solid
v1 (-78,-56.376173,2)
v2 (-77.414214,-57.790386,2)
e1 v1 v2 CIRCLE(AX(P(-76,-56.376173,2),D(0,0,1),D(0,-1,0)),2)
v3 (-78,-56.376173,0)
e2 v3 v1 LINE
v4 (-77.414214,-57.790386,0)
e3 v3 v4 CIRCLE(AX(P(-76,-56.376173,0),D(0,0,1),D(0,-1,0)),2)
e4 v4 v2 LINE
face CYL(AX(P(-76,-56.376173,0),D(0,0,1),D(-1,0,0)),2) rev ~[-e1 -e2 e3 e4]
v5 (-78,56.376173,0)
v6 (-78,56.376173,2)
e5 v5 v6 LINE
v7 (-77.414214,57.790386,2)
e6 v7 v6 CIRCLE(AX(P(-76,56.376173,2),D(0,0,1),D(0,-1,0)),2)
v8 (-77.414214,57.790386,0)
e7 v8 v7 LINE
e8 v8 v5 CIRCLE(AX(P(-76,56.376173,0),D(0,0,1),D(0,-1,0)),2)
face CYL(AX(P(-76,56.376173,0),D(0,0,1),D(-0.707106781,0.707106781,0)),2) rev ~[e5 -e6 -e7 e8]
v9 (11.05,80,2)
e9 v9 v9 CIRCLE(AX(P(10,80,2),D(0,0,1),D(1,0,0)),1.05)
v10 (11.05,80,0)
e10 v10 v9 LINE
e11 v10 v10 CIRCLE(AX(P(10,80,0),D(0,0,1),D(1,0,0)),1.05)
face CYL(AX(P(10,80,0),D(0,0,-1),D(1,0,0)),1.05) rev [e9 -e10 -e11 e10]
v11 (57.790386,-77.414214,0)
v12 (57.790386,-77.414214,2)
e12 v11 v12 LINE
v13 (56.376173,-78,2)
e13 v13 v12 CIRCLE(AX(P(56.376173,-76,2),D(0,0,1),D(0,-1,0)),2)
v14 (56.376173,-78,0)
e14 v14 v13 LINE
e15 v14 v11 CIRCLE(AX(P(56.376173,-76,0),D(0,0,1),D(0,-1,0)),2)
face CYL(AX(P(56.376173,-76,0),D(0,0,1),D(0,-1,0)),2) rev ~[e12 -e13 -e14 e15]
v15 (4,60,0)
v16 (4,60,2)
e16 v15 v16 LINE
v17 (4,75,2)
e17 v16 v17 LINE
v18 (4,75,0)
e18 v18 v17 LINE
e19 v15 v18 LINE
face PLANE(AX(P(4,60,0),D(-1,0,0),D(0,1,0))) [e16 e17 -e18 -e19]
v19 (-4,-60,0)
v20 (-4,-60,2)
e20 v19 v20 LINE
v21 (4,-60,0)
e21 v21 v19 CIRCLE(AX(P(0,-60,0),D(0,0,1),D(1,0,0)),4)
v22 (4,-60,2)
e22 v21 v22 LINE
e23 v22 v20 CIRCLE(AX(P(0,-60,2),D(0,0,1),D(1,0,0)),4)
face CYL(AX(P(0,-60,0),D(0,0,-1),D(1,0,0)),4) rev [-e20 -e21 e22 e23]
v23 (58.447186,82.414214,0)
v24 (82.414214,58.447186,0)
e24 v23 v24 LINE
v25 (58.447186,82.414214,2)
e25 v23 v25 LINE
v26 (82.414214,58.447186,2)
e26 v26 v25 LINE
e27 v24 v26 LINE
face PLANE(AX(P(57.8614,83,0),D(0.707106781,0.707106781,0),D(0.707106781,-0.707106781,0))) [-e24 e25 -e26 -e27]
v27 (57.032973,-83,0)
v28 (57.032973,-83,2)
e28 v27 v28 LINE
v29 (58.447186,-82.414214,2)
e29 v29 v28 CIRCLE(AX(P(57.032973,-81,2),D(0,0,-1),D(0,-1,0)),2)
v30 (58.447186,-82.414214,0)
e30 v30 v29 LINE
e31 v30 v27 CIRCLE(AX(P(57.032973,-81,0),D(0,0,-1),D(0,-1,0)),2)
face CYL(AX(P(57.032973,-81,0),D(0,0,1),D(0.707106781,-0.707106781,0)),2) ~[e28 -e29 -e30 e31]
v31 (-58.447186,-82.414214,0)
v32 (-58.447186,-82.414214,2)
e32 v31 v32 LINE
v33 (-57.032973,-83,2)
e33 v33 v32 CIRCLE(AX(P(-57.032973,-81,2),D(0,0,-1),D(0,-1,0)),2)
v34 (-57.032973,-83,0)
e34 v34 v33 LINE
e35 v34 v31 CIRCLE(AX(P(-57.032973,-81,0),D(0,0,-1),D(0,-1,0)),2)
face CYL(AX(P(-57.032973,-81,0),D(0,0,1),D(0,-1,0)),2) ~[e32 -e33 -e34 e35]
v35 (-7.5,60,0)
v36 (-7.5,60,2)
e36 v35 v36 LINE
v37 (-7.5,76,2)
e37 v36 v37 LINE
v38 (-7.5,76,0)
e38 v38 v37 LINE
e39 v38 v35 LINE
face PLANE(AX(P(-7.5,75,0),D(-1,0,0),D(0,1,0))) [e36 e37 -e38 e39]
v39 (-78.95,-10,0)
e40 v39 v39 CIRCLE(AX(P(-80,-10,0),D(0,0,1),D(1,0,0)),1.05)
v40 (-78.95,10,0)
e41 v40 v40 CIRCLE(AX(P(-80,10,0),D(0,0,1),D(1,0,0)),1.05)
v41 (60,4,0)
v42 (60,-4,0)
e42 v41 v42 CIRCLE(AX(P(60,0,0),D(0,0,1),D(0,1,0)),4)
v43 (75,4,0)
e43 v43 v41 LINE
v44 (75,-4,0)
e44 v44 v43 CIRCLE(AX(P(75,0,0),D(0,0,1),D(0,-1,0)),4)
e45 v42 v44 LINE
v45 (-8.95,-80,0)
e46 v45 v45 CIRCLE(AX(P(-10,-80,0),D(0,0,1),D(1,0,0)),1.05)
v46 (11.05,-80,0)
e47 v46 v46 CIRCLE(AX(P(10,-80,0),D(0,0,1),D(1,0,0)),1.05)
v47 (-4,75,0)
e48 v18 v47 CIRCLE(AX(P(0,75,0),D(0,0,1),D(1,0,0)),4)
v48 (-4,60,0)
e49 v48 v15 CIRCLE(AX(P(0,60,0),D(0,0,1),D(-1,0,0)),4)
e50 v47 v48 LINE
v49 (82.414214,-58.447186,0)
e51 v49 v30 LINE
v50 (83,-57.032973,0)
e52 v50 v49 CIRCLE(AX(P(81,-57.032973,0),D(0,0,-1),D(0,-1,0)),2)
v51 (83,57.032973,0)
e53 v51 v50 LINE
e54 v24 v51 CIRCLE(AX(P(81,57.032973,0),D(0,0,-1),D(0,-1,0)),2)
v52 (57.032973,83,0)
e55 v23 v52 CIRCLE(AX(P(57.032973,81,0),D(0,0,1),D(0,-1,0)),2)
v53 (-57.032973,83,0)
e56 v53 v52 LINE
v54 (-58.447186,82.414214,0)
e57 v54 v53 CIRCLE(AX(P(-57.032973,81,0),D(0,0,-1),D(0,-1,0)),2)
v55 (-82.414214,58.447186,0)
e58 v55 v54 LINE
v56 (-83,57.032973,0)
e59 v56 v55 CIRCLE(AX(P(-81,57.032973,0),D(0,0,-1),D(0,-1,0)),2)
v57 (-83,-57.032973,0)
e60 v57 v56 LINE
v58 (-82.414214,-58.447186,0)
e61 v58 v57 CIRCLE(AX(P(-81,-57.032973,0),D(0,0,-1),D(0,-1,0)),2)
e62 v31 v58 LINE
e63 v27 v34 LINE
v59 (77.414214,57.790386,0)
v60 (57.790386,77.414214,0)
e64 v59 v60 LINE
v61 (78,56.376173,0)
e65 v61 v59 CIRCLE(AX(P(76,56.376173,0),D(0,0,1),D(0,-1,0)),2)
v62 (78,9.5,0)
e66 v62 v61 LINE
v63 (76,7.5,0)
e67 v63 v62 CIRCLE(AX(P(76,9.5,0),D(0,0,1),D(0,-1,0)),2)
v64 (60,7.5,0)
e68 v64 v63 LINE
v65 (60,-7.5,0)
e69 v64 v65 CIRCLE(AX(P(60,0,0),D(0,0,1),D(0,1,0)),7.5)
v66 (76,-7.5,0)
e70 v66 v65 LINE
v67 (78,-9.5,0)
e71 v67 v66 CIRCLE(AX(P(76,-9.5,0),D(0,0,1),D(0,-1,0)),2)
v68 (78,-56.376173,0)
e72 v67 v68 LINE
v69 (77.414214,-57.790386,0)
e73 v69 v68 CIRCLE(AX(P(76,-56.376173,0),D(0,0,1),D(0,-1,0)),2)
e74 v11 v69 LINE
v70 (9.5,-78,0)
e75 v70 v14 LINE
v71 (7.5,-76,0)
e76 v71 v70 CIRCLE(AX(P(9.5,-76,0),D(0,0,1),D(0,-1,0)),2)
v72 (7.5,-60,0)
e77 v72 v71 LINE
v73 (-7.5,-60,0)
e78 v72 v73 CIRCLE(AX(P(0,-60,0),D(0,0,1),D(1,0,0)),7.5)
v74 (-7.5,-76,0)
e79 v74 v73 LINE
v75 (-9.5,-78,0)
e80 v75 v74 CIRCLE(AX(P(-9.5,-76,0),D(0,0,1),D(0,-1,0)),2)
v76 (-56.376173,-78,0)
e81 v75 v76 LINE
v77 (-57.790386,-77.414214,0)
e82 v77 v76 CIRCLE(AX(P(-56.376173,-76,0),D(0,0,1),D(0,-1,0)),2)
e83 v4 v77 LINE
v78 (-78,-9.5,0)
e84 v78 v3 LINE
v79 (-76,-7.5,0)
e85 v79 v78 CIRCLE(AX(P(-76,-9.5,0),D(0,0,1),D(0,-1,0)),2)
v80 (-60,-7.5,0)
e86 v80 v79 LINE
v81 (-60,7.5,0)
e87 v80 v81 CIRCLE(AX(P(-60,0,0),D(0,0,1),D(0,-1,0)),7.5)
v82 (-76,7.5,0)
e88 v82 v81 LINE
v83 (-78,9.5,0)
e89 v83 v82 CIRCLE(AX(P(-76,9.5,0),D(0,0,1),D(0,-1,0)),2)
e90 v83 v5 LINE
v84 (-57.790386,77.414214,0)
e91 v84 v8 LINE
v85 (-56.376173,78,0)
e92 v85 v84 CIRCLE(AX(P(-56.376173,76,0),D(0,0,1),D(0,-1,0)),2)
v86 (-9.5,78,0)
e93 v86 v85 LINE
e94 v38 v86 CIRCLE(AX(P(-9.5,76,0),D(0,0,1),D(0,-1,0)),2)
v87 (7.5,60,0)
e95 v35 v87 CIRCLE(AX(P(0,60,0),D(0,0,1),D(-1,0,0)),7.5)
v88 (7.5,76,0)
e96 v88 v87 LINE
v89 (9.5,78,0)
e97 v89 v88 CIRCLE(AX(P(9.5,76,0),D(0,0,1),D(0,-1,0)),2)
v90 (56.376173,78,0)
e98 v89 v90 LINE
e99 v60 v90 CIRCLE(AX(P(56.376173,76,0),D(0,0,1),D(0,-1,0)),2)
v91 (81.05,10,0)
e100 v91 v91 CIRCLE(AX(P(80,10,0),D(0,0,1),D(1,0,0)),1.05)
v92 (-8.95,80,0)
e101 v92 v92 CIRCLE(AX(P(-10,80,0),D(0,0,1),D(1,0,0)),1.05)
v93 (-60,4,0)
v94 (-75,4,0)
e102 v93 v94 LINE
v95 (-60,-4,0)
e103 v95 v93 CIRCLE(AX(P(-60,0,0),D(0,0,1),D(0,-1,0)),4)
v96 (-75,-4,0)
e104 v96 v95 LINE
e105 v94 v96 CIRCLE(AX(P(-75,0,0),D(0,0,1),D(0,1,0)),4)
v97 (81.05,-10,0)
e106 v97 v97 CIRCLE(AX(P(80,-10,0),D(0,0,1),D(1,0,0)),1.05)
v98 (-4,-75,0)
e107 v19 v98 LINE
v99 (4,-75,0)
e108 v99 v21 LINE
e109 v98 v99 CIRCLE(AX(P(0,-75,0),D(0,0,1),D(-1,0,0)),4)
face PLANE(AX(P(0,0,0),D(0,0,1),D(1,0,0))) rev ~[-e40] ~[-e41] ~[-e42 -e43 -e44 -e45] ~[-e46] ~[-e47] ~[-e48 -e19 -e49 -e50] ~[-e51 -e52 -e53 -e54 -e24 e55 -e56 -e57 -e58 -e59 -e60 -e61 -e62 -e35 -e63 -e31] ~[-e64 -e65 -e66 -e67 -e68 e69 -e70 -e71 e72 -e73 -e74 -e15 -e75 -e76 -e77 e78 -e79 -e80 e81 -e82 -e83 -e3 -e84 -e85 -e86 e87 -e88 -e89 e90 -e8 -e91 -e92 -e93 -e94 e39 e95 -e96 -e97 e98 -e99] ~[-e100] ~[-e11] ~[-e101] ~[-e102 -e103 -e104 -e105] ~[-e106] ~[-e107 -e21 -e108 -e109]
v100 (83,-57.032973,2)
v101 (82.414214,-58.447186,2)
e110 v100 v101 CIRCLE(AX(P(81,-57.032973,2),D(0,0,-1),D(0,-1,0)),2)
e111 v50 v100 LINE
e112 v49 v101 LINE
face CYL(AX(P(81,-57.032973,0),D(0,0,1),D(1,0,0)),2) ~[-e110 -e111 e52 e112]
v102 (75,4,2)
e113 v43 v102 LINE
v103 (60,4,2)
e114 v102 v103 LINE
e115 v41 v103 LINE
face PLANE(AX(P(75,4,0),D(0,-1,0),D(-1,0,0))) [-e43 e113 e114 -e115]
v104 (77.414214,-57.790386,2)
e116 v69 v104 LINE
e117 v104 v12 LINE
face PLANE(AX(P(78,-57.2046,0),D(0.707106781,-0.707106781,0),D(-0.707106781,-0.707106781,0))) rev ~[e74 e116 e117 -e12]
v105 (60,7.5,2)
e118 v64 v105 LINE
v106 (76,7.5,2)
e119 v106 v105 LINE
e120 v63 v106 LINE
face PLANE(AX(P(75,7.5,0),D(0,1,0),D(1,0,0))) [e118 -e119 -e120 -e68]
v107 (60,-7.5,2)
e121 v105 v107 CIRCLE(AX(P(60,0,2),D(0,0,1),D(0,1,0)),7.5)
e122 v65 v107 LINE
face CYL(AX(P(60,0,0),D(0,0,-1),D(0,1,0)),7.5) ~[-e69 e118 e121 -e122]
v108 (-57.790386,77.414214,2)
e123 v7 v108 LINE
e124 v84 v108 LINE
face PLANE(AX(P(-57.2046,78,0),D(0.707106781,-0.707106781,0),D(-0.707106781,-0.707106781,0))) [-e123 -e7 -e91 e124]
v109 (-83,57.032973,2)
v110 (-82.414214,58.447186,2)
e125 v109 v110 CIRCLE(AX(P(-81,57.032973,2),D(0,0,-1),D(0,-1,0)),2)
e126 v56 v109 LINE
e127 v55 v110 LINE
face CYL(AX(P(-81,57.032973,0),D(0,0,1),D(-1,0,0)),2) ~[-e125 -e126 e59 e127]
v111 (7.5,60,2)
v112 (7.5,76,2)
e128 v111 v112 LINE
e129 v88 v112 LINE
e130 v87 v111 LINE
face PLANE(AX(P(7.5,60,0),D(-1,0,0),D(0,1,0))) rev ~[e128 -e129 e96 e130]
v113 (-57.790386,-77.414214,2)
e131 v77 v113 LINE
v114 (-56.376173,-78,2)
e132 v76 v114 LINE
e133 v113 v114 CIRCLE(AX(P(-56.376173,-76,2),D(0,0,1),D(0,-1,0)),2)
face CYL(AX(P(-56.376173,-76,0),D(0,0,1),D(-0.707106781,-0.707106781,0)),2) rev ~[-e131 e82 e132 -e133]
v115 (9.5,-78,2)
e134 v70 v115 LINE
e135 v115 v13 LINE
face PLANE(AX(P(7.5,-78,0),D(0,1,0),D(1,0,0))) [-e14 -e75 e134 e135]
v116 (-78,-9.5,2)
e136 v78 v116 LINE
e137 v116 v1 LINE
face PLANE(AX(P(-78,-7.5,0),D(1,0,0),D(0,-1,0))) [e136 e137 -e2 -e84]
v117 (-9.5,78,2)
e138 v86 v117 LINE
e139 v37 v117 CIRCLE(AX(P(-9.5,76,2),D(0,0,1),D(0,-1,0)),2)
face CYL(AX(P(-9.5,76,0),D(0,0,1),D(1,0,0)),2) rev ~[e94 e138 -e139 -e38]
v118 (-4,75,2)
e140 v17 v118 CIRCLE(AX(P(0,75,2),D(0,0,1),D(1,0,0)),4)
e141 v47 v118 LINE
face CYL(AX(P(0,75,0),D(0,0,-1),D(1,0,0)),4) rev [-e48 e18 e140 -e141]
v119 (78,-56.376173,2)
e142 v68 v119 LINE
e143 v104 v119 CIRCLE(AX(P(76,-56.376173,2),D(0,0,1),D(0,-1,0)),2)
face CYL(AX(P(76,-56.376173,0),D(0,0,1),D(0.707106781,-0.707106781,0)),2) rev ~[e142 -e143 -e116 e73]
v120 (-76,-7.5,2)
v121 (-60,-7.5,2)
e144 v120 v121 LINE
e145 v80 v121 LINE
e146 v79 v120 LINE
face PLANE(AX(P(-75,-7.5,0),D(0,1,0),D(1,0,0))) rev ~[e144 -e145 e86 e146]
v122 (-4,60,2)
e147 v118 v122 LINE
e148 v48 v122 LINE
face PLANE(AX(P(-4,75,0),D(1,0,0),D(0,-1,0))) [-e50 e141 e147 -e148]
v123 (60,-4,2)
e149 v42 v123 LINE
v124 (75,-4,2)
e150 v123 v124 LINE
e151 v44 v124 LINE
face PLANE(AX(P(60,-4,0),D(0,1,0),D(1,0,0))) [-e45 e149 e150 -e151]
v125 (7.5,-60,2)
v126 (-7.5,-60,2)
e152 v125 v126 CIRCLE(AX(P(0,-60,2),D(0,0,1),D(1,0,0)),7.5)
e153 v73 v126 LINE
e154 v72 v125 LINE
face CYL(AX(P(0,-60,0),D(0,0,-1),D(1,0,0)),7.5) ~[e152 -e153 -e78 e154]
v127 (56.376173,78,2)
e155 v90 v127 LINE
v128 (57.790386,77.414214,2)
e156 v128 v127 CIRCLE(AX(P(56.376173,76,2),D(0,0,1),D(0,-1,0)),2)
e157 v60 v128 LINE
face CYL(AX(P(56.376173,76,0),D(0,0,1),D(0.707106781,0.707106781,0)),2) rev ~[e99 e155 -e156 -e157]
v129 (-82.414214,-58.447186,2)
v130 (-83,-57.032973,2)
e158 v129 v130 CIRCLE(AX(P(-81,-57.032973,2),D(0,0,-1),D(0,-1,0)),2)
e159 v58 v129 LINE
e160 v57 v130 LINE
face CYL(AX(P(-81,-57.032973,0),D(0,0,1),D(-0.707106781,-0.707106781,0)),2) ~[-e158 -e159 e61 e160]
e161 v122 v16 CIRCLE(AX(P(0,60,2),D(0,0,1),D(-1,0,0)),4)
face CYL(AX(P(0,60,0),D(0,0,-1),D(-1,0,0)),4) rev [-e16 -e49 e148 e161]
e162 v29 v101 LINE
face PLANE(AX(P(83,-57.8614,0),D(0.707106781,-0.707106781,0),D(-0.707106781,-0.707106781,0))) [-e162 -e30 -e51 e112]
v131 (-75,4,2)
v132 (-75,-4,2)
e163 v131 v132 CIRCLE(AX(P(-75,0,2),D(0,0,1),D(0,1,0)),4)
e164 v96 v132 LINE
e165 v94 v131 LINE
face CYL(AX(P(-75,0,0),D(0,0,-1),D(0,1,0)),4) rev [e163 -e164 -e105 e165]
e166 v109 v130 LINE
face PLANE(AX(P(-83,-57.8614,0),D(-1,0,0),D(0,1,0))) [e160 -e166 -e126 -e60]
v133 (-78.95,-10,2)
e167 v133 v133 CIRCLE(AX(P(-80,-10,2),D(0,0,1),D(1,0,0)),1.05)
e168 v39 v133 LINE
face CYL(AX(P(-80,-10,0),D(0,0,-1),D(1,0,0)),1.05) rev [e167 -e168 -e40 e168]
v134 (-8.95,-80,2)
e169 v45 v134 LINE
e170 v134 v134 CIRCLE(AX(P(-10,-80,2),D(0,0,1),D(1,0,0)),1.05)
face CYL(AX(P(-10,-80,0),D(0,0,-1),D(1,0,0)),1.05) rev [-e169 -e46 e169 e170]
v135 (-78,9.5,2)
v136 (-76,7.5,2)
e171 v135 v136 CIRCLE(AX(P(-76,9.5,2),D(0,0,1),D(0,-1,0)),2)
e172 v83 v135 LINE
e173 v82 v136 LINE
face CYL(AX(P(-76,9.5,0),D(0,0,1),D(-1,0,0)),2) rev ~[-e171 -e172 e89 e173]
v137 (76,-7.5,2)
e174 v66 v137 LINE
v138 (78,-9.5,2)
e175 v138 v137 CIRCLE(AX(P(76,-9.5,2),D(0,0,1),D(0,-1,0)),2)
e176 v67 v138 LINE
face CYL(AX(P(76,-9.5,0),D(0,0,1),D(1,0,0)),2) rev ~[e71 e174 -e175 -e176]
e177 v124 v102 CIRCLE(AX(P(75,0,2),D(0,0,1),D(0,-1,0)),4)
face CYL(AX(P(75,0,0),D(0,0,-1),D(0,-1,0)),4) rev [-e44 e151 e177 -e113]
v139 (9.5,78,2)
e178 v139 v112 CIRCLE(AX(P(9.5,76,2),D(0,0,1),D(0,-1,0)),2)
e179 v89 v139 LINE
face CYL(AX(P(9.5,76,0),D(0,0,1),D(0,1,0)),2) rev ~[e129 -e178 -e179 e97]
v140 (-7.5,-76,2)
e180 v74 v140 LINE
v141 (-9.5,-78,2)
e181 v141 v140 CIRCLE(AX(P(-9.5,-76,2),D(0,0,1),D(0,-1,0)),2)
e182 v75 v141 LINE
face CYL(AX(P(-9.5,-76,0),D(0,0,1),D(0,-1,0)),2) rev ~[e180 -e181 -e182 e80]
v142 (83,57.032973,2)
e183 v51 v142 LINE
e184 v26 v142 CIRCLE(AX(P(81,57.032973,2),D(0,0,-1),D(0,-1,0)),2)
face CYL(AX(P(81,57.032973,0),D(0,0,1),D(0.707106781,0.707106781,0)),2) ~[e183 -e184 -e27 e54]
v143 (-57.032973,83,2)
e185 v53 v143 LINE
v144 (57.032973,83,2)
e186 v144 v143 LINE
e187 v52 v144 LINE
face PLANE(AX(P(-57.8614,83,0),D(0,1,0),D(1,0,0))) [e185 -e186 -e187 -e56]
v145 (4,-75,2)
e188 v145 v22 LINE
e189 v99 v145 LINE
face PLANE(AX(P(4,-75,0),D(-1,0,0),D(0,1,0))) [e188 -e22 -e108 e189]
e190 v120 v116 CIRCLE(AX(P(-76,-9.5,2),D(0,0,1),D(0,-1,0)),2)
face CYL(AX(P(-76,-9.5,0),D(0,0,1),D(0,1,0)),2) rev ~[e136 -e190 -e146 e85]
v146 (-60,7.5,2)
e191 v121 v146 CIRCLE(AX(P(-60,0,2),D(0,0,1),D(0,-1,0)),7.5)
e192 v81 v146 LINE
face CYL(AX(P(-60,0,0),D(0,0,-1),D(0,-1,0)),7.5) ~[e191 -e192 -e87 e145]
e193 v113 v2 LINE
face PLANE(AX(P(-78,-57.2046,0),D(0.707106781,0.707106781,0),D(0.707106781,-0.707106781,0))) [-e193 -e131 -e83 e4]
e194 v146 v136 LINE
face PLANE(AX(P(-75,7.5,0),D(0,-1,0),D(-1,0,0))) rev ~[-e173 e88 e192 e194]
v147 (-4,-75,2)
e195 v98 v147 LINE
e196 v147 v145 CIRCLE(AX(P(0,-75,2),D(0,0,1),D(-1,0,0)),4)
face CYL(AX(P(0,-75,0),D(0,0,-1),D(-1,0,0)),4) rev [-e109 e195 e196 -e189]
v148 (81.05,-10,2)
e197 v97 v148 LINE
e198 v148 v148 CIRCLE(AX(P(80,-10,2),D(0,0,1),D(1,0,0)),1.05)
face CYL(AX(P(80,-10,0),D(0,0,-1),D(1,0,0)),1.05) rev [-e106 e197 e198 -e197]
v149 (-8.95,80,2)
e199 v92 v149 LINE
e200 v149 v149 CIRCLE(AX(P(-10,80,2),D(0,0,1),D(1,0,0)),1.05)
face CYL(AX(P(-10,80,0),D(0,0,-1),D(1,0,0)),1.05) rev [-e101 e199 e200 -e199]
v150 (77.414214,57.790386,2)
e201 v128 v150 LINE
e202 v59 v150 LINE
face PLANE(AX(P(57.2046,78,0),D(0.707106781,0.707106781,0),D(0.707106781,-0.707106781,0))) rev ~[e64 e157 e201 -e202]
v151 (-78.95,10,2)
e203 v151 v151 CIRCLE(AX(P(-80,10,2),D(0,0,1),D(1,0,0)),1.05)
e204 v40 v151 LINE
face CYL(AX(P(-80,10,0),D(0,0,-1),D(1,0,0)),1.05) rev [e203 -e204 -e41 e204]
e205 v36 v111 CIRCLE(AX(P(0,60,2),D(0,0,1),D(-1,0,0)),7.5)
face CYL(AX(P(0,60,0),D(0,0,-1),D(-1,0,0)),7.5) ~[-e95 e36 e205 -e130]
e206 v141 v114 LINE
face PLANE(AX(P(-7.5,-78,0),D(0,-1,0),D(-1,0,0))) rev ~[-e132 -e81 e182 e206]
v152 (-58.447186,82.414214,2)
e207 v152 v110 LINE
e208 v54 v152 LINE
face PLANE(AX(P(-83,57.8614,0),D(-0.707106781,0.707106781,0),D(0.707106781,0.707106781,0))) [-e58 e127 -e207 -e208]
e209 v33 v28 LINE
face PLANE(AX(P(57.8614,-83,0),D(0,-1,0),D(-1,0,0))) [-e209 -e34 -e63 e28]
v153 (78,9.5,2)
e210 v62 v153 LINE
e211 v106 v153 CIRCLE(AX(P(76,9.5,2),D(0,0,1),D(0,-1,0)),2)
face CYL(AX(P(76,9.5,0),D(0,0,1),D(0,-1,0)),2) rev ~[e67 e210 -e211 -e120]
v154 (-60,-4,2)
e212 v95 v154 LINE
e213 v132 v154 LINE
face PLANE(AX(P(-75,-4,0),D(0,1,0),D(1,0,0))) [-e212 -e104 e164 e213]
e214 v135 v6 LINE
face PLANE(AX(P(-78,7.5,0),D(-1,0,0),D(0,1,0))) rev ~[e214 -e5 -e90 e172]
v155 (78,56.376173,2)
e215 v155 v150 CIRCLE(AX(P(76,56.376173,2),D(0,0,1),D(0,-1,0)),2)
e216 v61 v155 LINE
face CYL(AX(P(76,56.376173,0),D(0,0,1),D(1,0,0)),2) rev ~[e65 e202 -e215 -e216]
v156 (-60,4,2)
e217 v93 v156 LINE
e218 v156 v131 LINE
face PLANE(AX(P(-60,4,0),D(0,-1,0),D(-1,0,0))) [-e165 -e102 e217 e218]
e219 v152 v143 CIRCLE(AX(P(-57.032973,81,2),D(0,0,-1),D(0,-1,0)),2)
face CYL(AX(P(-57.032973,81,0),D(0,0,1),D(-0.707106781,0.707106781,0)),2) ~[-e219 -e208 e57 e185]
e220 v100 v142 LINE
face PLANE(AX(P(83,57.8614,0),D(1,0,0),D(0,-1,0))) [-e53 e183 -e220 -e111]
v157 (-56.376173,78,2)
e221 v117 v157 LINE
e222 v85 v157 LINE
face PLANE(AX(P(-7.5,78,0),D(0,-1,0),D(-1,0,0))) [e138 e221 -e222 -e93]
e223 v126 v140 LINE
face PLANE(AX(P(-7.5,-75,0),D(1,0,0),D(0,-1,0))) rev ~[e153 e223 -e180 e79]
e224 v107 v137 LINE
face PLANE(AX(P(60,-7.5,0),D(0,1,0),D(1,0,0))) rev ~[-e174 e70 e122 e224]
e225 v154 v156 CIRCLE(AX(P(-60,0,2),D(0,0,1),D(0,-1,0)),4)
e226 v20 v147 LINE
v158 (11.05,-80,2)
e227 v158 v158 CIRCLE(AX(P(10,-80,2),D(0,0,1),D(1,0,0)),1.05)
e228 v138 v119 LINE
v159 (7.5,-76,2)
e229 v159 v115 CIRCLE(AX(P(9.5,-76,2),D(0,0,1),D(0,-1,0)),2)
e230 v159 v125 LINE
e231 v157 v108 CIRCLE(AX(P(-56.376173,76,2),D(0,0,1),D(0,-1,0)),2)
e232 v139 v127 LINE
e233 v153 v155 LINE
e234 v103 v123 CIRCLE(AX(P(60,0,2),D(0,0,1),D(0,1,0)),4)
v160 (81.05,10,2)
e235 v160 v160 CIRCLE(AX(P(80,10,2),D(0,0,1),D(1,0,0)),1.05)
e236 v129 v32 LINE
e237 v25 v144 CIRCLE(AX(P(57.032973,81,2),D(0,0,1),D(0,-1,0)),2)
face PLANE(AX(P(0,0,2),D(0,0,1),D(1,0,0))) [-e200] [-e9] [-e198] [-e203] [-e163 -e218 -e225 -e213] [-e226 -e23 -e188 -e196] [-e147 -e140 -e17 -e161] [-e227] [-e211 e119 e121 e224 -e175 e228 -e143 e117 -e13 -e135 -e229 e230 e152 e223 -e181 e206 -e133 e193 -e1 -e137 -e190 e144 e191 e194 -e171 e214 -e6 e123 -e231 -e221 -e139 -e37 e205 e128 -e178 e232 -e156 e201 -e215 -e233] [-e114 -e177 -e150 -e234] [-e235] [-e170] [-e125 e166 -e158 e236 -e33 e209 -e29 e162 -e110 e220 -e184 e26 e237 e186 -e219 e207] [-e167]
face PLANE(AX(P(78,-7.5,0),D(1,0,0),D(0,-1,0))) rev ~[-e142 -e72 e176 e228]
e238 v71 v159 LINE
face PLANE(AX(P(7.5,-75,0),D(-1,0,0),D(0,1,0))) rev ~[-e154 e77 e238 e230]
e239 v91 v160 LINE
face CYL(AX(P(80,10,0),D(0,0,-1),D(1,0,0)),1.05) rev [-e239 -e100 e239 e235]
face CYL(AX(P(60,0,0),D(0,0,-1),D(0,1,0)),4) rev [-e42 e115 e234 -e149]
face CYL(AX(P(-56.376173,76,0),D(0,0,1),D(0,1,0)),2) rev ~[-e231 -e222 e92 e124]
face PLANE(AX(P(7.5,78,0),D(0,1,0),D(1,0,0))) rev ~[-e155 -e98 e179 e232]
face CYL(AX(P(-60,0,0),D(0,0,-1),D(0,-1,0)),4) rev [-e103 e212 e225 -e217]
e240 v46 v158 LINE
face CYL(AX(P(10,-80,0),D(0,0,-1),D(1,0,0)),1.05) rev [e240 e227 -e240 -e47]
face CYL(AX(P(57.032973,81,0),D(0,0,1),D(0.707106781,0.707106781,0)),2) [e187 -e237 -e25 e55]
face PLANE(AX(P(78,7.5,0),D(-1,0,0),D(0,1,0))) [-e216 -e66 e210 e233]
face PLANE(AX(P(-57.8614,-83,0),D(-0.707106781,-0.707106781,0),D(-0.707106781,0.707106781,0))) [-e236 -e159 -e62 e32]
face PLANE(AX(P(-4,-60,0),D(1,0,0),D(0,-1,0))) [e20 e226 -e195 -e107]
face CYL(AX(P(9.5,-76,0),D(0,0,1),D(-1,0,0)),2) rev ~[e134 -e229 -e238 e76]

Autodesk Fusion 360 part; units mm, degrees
sketch "草图1" plane through (0, 0, 0) normal (0, 0, 1) x (1, 0, 0)
  line L0 (7.5, 60) -> (7.5, 75)
  circle A0 centre (-42.5, 42.5) radius 32.5 construction
  arc A1 (-7.5, 60) -> (7.5, 60) centre (0, 60) ccw
  circle A2 centre (42.5, 42.5) radius 32.5 construction
  circle A3 centre (-10, 80) radius 1.05
  line L1 (-7.5, 75) -> (-7.5, 60)
  line L2 (57.8614, 83) -> (0, 83)
  line L3 (0, 60) -> (0, 75) construction
  circle A4 centre (10, 80) radius 1.05
  circle A5 centre (42.5, -42.5) radius 32.5 construction
  circle A6 centre (-42.5, -42.5) radius 32.5 construction
  arc A7 (7.5, 75) -> (-7.5, 75) centre (0, 75) ccw construction
  line L4 (7.5, 75) -> (7.5, 78)
  line L5 (7.5, 78) -> (57.2046, 78)
  line L6 (0, 0) -> (89.0494, 89.0494) construction
  line L7 (57.2046, 78) -> (67.6023, 67.6023)
  line L8 (57.8614, 83) -> (70.4307, 70.4307)
  line L9 (-57.8614, 83) -> (0, 83)
  line L10 (-57.8614, 83) -> (-70.4307, 70.4307)
  line L11 (-57.2046, 78) -> (-67.6023, 67.6023)
  line L12 (-7.5, 78) -> (-57.2046, 78)
  line L13 (-7.5, 75) -> (-7.5, 78)
  line L14 (-4, 75) -> (-4, 60)
  arc A8 (-4, 60) -> (4, 60) centre (0, 60) ccw
  line L15 (4, 60) -> (4, 75)
  arc A9 (4, 75) -> (-4, 75) centre (0, 75) ccw
  line L16 (0, 75) -> (0, 60) construction
  line L17 (-83, -57.8614) -> (-70.4307, -70.4307)
  line L18 (-83, -57.8614) -> (-83, 0)
  line L19 (-83, 57.8614) -> (-83, 0)
  line L20 (-83, 57.8614) -> (-70.4307, 70.4307)
  line L21 (-78, 57.2046) -> (-67.6023, 67.6023)
  line L22 (-78, 7.5) -> (-78, 57.2046)
  line L23 (-75, 7.5) -> (-78, 7.5)
  line L24 (-60, 7.5) -> (-75, 7.5)
  arc A10 (-60, -7.5) -> (-60, 7.5) centre (-60, 0) ccw
  line L25 (-75, -7.5) -> (-60, -7.5)
  line L26 (-75, -7.5) -> (-78, -7.5)
  line L27 (-78, -7.5) -> (-78, -57.2046)
  line L28 (-78, -57.2046) -> (-67.6023, -67.6023)
  line L29 (-75, -4) -> (-60, -4)
  arc A11 (-75, 4) -> (-75, -4) centre (-75, 0) ccw
  line L30 (-60, 4) -> (-75, 4)
  arc A12 (-60, -4) -> (-60, 4) centre (-60, 0) ccw
  circle A13 centre (-80, -10) radius 1.05
  circle A14 centre (-80, 10) radius 1.05
  line L31 (57.8614, -83) -> (70.4307, -70.4307)
  line L32 (57.8614, -83) -> (0, -83)
  line L33 (-57.8614, -83) -> (0, -83)
  line L34 (-57.8614, -83) -> (-70.4307, -70.4307)
  line L35 (-57.2046, -78) -> (-67.6023, -67.6023)
  line L36 (-7.5, -78) -> (-57.2046, -78)
  line L37 (-7.5, -75) -> (-7.5, -78)
  line L38 (-7.5, -60) -> (-7.5, -75)
  arc A15 (7.5, -60) -> (-7.5, -60) centre (0, -60) ccw
  line L39 (7.5, -75) -> (7.5, -60)
  line L40 (7.5, -75) -> (7.5, -78)
  line L41 (7.5, -78) -> (57.2046, -78)
  line L42 (57.2046, -78) -> (67.6023, -67.6023)
  line L43 (4, -75) -> (4, -60)
  arc A16 (-4, -75) -> (4, -75) centre (0, -75) ccw
  line L44 (-4, -60) -> (-4, -75)
  arc A17 (4, -60) -> (-4, -60) centre (0, -60) ccw
  circle A18 centre (10, -80) radius 1.05
  circle A19 centre (-10, -80) radius 1.05
  line L45 (83, 57.8614) -> (70.4307, 70.4307)
  line L46 (83, 57.8614) -> (83, 0)
  line L47 (83, -57.8614) -> (83, 0)
  line L48 (83, -57.8614) -> (70.4307, -70.4307)
  line L49 (78, -57.2046) -> (67.6023, -67.6023)
  line L50 (78, -7.5) -> (78, -57.2046)
  line L51 (75, -7.5) -> (78, -7.5)
  line L52 (60, -7.5) -> (75, -7.5)
  arc A20 (60, 7.5) -> (60, -7.5) centre (60, 0) ccw
  line L53 (75, 7.5) -> (60, 7.5)
  line L54 (75, 7.5) -> (78, 7.5)
  line L55 (78, 7.5) -> (78, 57.2046)
  line L56 (78, 57.2046) -> (67.6023, 67.6023)
  line L57 (75, 4) -> (60, 4)
  arc A21 (75, -4) -> (75, 4) centre (75, 0) ccw
  line L58 (60, -4) -> (75, -4)
  arc A22 (60, 4) -> (60, -4) centre (60, 0) ccw
  circle A23 centre (80, 10) radius 1.05
  circle A24 centre (80, -10) radius 1.05
  dimension "d3" = 65
  dimension "d4" = 65
  dimension "d5" = 65
  dimension "d6" = 65
  dimension "d7" = 15
  dimension "d8" = 15
  dimension "d10" = 2.1
  dimension "d11" = 5
  dimension "d12" = 10
  dimension "d15" = 3
  dimension "d16" = 2
  dimension "d17" = 60
  dimension "d18" = 35.5
  dimension "d19" = 4
  dimension "d20" = 8
  dimension "d22" = 360
extrude "拉伸1" add sketch "草图1" along normal blind 2
fillet "圆角1" radius 2 16 edges at (-57.2046, 78, 1) (57.2046, 78, 1) (78, 57.2046, 1) (-7.5, 78, 1) (7.5, 78, 1) (78, 7.5, 1) (78, -7.5, 1) (78, -57.2046, 1) (57.2046, -78, 1) (7.5, -78, 1) (-7.5, -78, 1) (-57.2046, -78, 1) (-78, -57.2046, 1) (-78, -7.5, 1) (-78, 7.5, 1) (-78, 57.2046, 1)
fillet "圆角2" radius 2 8 edges at (83, -57.8614, 1) (57.8614, -83, 1) (-57.8614, -83, 1) (-83, -57.8614, 1) (-83, 57.8614, 1) (-57.8614, 83, 1) (57.8614, 83, 1) (83, 57.8614, 1)
